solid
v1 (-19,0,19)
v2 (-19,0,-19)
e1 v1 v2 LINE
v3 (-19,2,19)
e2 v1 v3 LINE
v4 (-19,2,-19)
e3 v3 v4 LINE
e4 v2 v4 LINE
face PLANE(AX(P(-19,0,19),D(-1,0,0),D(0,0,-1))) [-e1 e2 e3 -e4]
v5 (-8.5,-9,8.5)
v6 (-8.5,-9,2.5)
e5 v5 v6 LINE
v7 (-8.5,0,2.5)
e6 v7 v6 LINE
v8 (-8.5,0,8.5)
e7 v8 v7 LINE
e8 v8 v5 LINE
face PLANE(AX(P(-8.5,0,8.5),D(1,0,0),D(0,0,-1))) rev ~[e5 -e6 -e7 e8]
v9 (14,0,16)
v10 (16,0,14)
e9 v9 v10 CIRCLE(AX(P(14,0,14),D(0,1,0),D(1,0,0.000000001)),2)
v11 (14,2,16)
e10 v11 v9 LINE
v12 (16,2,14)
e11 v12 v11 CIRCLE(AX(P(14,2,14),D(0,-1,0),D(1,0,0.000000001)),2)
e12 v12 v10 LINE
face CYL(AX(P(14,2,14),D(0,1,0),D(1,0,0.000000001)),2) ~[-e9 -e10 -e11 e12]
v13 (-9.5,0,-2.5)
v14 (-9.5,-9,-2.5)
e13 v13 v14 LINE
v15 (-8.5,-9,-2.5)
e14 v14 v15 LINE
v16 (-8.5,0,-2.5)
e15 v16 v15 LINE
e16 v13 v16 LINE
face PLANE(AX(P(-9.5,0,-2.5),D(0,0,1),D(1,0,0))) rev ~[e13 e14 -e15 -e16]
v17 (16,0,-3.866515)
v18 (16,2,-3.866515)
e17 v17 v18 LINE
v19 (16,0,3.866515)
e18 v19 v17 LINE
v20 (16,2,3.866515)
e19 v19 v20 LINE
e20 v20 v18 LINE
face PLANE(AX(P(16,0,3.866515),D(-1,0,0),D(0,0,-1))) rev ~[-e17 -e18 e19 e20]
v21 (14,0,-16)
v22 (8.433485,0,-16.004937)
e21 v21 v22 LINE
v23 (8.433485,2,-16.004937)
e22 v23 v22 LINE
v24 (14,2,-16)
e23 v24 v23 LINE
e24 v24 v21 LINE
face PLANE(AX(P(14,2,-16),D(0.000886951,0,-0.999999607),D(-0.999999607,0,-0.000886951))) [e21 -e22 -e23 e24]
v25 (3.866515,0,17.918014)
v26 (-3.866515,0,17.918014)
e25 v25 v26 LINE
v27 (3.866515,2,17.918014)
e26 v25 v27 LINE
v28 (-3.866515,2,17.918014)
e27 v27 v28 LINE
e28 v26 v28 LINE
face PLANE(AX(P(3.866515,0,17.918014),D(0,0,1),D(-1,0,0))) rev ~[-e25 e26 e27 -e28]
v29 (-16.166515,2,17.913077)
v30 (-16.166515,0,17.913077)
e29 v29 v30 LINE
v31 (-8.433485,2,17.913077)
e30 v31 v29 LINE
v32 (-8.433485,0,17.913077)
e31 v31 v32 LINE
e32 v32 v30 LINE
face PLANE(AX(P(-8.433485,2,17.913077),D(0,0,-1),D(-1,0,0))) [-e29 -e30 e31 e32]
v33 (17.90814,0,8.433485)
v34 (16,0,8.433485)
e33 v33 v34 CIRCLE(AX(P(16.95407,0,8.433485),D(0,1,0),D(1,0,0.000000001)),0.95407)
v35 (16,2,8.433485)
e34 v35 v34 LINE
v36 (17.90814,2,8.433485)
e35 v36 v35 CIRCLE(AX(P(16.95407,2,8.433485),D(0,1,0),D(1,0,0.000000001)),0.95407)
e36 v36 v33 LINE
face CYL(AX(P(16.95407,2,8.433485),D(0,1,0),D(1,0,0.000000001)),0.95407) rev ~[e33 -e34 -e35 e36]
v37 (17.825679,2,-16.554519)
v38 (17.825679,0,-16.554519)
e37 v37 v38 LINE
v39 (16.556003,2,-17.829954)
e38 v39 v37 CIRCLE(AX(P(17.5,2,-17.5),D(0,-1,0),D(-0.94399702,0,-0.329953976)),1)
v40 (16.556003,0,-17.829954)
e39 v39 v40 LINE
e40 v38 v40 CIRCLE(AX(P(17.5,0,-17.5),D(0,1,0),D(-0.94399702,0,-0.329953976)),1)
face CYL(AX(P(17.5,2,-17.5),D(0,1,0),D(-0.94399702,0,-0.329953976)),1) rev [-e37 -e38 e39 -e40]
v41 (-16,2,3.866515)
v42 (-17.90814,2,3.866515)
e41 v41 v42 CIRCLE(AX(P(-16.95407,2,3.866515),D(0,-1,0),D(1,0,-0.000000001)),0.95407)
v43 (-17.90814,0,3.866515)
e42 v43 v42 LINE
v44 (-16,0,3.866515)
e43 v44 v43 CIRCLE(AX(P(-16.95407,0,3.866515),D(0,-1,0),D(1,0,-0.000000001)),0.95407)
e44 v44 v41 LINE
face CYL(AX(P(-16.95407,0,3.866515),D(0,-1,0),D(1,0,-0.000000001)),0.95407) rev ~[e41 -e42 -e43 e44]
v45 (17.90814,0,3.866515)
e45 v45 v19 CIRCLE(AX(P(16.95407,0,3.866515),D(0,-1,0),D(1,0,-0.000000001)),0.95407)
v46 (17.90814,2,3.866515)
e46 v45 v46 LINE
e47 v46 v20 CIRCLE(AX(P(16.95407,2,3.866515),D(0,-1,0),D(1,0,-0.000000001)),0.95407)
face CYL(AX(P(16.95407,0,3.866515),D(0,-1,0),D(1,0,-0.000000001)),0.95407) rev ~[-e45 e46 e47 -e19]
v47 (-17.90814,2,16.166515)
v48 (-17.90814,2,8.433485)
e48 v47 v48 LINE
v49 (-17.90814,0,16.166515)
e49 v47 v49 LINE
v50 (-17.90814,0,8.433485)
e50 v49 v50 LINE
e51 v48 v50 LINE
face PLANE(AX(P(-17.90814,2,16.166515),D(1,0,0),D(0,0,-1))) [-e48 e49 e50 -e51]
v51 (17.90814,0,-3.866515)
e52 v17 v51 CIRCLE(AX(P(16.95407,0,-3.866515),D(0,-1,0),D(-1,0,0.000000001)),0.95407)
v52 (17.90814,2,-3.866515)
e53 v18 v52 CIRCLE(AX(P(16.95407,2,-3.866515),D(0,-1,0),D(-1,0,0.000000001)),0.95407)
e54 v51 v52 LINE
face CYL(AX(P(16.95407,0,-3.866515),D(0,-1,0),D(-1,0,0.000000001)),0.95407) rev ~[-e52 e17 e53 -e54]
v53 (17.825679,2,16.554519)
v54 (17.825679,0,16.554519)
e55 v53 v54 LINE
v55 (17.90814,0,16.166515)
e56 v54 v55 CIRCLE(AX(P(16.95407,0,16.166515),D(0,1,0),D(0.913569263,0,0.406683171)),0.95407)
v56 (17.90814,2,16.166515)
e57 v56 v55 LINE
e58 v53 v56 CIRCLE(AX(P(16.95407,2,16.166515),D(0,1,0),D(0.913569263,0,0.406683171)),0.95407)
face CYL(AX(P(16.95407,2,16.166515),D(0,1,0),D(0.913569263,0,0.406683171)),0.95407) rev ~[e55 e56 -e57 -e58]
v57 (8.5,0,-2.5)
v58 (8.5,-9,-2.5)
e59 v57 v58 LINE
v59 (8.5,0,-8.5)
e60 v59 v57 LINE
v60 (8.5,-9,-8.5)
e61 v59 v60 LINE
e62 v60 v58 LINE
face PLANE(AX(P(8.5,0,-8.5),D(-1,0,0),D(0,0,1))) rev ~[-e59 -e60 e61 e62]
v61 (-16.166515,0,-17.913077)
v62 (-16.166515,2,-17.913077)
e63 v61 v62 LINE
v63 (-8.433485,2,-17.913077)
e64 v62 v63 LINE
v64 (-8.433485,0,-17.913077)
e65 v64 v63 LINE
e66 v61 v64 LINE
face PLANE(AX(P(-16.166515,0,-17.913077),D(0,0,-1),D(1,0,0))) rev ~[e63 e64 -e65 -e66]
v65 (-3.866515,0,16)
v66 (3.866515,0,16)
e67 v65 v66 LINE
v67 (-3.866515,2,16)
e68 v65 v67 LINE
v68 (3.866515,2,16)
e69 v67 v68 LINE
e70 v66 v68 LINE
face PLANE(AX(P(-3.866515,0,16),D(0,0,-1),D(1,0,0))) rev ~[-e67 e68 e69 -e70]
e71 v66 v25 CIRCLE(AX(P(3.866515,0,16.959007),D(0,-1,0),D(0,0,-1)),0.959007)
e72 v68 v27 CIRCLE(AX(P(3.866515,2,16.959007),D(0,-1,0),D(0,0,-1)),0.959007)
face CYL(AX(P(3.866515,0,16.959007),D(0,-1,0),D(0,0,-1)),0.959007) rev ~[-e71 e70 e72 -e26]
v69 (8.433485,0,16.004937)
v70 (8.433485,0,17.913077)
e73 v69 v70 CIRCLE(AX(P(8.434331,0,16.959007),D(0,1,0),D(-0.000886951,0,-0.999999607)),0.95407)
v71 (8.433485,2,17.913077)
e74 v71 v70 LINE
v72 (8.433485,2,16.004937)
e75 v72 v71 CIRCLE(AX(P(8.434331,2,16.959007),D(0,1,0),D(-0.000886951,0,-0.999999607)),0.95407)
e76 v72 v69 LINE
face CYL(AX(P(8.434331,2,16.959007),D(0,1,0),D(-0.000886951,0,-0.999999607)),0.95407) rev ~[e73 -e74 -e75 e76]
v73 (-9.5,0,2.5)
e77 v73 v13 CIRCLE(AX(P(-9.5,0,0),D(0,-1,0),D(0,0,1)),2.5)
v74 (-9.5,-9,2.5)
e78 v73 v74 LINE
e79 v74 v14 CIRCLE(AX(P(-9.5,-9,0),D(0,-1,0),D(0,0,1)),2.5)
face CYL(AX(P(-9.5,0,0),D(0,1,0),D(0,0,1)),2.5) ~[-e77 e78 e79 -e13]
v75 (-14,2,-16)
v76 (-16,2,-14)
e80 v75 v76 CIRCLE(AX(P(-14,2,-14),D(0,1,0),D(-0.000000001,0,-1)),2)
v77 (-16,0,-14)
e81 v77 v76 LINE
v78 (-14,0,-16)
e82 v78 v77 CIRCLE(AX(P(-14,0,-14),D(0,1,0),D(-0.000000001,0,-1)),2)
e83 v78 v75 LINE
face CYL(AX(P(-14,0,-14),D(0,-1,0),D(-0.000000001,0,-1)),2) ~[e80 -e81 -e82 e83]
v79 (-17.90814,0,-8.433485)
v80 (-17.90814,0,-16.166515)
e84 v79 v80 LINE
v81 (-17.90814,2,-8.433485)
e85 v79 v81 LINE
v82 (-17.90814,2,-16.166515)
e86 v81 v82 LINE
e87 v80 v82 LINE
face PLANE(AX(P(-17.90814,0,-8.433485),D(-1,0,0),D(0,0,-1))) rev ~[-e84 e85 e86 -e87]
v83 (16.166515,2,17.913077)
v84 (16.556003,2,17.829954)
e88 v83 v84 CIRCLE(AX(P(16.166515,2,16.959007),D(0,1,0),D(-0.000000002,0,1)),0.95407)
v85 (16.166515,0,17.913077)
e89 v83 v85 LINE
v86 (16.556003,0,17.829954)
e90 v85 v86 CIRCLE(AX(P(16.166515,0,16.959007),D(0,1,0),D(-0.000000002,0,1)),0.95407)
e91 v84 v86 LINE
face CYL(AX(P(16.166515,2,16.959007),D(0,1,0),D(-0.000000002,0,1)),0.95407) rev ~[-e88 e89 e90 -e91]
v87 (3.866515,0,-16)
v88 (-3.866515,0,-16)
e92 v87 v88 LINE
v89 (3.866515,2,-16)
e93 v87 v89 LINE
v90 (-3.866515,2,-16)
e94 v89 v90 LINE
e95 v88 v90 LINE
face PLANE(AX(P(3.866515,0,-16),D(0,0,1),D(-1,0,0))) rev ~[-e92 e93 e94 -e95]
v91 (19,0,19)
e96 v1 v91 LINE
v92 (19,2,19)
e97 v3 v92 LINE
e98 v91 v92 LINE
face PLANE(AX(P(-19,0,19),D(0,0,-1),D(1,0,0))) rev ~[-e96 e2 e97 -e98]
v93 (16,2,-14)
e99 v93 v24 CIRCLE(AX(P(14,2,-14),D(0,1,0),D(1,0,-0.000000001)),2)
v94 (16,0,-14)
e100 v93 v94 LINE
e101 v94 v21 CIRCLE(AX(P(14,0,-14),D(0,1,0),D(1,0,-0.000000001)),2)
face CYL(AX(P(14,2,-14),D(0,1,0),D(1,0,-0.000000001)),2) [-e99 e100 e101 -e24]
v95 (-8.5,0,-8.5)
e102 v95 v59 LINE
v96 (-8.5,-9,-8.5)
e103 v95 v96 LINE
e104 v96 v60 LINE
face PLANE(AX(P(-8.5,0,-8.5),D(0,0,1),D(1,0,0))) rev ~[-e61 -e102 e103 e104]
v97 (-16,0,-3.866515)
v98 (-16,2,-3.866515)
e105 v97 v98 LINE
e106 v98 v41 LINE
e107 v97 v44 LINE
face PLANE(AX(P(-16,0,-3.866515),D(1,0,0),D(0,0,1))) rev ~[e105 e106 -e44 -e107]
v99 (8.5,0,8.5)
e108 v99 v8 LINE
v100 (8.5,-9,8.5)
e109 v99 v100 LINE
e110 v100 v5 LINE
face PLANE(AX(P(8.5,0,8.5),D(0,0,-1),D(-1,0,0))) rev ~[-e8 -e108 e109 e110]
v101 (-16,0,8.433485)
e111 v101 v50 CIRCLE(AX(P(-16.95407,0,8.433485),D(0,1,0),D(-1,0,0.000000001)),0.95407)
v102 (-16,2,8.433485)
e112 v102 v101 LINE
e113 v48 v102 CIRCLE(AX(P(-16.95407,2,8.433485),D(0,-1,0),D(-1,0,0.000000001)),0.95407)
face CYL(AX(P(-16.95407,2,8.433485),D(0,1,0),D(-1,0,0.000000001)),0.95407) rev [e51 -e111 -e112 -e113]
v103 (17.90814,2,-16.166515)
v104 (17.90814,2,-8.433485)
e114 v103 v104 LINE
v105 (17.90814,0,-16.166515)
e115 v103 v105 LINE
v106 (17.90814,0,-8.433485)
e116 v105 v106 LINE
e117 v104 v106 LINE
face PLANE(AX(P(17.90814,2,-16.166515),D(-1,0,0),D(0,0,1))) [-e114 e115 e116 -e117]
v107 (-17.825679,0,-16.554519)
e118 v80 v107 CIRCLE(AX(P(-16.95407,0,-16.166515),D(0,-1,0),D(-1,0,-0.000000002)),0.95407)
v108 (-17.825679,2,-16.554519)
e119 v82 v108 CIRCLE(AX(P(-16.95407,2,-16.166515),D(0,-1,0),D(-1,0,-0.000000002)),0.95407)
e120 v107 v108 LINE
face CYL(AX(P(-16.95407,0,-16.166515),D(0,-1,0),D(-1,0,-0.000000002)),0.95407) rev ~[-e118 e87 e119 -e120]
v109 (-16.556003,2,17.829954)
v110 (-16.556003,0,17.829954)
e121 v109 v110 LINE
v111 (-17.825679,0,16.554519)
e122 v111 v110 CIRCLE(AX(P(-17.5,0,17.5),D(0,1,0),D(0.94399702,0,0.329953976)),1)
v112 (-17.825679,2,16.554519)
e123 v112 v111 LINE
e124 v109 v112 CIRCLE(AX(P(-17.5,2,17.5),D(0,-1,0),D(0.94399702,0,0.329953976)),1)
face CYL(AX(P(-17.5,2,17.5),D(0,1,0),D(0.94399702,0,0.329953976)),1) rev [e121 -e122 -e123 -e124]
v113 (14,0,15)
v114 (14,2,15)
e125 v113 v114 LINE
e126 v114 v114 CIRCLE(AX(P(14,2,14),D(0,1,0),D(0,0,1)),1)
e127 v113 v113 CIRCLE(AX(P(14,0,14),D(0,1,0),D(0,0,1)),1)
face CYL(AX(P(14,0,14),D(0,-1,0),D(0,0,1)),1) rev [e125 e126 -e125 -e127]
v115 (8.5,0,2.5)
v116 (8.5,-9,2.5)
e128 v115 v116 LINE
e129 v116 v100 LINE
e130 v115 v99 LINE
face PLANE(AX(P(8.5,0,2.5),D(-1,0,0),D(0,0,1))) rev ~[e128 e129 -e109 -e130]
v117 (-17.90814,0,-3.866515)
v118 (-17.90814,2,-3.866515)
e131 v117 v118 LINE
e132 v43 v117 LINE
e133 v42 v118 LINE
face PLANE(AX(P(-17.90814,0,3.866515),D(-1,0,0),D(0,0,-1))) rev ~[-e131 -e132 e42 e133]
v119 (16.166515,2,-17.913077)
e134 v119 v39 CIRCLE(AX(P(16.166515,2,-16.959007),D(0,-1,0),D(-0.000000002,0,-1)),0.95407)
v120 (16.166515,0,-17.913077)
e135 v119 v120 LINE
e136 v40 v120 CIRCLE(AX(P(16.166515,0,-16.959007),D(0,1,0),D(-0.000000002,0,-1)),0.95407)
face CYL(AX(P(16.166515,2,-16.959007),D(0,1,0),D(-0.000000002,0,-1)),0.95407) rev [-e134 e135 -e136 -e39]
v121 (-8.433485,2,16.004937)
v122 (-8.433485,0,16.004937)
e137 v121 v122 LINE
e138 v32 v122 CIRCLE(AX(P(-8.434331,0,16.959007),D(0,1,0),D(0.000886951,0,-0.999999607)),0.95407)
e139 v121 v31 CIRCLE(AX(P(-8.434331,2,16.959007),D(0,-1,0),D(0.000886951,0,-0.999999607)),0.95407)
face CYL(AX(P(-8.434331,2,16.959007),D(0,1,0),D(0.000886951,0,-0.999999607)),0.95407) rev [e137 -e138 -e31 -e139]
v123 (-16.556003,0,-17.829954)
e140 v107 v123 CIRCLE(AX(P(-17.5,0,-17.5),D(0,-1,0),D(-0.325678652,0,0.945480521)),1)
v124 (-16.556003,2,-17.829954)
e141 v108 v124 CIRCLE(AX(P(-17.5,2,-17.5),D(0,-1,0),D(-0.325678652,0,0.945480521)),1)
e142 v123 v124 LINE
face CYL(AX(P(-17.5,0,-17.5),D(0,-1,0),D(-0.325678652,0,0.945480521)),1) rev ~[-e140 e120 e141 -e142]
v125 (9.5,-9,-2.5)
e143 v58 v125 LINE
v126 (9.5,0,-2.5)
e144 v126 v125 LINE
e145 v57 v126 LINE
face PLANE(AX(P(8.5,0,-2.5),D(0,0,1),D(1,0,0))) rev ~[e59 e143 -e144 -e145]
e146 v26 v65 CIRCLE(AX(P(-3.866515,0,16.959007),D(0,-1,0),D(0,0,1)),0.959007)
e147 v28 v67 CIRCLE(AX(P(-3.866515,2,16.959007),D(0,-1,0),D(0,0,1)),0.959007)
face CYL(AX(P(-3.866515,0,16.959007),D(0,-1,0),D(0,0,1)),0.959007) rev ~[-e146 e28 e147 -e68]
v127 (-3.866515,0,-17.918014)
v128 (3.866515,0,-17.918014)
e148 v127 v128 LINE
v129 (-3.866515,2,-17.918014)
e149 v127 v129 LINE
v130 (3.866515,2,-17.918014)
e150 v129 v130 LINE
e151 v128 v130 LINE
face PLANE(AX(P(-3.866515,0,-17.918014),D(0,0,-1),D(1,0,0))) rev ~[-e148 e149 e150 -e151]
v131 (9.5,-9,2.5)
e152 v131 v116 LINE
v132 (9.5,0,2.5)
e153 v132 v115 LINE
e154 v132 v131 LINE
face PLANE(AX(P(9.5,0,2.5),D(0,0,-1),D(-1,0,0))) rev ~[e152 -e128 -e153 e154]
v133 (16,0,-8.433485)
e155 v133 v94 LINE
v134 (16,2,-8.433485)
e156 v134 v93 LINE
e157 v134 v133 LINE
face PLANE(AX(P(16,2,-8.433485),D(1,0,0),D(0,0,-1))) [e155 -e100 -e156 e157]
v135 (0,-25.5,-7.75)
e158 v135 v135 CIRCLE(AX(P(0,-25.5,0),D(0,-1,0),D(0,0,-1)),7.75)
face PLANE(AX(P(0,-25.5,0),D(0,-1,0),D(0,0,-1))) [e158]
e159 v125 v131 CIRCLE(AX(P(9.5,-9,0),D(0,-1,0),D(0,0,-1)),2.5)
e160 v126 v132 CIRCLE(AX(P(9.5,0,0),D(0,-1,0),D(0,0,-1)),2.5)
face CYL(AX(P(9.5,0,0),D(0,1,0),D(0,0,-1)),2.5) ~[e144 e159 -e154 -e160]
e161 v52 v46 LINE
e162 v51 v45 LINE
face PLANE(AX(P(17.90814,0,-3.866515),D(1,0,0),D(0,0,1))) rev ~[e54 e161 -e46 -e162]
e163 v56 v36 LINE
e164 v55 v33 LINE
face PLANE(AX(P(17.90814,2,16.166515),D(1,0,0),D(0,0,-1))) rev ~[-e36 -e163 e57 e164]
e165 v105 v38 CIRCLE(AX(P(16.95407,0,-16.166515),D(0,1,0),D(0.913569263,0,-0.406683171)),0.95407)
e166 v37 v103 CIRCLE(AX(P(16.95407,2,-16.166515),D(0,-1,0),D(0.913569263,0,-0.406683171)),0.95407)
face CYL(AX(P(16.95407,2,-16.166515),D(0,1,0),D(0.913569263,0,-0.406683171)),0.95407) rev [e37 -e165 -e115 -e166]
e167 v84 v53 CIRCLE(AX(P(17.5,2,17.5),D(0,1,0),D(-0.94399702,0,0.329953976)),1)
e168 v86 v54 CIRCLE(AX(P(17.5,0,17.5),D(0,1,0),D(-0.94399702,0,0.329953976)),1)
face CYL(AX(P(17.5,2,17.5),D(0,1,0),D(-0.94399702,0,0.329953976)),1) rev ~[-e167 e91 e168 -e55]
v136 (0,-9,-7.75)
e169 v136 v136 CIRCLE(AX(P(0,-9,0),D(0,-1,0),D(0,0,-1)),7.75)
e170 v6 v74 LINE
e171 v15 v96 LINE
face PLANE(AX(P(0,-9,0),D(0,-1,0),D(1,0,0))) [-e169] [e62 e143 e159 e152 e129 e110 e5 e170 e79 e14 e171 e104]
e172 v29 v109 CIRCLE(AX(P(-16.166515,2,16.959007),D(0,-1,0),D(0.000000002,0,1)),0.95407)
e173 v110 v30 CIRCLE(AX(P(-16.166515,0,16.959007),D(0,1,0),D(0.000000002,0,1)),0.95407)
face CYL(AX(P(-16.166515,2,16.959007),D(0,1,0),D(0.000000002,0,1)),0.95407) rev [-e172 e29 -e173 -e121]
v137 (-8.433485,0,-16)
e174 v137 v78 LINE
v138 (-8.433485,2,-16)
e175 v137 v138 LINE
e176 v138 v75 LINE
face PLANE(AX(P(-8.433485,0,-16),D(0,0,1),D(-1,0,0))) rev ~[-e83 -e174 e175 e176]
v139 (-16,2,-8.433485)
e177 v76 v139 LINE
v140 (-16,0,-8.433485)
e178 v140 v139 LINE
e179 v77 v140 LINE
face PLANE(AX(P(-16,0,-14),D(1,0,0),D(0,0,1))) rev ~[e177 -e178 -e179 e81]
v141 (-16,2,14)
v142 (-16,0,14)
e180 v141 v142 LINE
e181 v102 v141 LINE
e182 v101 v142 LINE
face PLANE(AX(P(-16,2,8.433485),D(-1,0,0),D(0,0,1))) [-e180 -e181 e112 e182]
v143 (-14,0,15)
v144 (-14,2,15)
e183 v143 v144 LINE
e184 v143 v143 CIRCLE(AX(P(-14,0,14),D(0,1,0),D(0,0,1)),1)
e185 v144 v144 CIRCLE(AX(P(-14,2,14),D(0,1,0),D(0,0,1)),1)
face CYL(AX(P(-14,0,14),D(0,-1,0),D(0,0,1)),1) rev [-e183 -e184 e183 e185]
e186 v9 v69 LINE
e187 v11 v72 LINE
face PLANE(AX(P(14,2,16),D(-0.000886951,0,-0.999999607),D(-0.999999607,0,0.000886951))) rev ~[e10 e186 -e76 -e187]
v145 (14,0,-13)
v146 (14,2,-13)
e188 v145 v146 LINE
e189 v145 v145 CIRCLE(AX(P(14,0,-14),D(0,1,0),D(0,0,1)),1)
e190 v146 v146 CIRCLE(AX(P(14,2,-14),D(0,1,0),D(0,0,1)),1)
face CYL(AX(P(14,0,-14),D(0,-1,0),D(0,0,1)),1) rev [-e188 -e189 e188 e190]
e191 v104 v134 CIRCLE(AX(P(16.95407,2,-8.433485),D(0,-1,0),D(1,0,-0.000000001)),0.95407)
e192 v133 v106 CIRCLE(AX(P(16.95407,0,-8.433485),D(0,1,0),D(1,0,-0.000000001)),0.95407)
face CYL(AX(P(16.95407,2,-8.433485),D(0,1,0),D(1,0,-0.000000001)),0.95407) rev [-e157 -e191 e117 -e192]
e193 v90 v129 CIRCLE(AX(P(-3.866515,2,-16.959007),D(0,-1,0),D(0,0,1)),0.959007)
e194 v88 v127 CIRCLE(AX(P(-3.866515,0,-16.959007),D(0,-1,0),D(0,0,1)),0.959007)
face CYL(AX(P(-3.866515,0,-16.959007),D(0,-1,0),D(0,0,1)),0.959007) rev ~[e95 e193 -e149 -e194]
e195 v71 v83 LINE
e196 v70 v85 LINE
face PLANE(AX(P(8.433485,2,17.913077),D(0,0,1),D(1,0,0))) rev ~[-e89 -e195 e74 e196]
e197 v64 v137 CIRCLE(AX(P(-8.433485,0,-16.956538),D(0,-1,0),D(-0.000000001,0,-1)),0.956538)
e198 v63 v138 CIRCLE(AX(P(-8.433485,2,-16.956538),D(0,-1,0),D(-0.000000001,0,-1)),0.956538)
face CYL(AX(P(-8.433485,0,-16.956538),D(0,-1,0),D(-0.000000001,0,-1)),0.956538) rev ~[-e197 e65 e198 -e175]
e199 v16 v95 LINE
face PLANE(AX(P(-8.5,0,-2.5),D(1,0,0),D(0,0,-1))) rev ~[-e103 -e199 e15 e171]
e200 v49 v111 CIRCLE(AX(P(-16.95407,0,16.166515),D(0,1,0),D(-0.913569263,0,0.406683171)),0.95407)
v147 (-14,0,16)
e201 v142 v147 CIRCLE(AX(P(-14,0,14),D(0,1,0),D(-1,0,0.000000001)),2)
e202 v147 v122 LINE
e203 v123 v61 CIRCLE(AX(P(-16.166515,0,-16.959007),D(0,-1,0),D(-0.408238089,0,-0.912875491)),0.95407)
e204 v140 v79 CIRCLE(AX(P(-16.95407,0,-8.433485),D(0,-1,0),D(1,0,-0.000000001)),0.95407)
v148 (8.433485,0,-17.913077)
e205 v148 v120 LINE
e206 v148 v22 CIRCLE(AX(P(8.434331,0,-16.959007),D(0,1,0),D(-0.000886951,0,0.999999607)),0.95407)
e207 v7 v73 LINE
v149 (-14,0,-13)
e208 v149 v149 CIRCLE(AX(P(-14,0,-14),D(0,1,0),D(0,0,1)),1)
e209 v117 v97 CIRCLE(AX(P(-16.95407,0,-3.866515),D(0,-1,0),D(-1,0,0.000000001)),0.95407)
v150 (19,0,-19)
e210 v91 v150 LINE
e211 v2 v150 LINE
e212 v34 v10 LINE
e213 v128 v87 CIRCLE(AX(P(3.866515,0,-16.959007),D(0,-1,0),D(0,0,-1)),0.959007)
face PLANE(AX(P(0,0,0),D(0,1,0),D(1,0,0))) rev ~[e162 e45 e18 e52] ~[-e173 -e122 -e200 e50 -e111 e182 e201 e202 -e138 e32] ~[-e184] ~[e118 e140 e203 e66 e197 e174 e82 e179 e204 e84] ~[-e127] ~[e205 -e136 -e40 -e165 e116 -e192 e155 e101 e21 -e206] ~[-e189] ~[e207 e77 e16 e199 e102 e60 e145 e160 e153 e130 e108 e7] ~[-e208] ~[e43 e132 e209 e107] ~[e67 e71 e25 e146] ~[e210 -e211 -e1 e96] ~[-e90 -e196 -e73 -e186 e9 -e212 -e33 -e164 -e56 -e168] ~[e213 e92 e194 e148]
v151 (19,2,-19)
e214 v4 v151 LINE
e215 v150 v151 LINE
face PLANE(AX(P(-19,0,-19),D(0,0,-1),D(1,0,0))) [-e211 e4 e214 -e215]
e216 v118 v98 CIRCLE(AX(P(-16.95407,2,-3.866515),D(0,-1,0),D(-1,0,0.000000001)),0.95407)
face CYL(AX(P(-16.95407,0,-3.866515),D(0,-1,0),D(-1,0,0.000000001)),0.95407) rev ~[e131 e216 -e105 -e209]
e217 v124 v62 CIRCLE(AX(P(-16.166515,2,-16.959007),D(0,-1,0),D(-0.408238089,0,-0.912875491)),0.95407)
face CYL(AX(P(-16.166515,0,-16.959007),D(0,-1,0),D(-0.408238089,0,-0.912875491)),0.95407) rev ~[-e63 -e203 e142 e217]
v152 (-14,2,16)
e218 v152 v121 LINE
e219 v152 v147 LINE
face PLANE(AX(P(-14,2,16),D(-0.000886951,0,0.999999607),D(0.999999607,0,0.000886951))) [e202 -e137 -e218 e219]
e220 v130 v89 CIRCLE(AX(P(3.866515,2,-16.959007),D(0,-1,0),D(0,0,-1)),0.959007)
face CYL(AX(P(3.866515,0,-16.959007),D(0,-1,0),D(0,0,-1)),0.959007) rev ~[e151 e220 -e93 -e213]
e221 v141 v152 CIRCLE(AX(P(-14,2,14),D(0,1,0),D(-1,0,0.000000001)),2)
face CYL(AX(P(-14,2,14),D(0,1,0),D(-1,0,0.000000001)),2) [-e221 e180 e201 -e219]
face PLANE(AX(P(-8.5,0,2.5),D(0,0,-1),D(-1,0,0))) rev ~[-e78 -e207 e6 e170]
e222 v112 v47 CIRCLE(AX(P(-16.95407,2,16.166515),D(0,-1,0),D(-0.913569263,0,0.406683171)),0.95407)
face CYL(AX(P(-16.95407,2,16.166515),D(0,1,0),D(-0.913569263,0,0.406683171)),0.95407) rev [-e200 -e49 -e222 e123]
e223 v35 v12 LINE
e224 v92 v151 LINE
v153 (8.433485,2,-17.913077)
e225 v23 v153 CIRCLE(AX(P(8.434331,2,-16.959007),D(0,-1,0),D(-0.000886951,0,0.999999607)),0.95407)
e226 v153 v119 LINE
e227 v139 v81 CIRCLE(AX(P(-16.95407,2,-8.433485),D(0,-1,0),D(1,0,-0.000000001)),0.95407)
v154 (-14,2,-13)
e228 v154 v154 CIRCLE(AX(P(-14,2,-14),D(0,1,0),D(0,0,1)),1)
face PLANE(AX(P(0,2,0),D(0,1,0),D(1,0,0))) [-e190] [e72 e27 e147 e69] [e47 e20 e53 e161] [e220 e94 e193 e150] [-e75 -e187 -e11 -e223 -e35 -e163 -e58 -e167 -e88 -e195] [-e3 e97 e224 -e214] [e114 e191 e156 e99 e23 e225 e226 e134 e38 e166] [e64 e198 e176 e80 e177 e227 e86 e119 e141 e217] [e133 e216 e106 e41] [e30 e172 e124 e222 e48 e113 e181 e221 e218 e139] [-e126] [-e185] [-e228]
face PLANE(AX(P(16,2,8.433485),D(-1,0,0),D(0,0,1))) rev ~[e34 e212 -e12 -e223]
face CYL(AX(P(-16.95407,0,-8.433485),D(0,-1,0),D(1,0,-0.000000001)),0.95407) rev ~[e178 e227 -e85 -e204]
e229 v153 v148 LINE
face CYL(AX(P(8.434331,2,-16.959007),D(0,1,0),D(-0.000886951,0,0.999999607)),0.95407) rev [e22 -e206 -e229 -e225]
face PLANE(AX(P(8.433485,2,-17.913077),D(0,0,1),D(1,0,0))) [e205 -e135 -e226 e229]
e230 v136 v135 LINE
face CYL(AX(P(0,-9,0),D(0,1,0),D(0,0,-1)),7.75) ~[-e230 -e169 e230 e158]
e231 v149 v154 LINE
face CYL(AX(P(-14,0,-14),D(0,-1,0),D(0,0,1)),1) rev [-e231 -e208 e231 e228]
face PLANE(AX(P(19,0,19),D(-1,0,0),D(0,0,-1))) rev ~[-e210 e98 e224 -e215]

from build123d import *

# Parameters (mm, degrees)
SKETCH_1_W          = 38
SKETCH_1_H          = 38
SKETCH_1_R          = 1
EXTRUDE_1_DEPTH     = 2
CUT_EXTRUDE_1_DEPTH = 27.944387171
EXTRUDE_2_DEPTH     = 9
SKETCH_4_R          = 7.75
EXTRUDE_3_DEPTH     = 16.5


with BuildPart() as part:
    # 草图1 → 凸台-拉伸1 (new body)
    with BuildSketch(Plane(origin=(0, 0, 0), x_dir=(1, 0, 0), z_dir=(0, 1, 0))):
        Rectangle(SKETCH_1_W, SKETCH_1_H)
        with BuildLine():
            ThreePointArc((-8.433484656, 17.913076839), (-7.476946236, 16.95653842), (-8.433484656, 16))
            Line((-8.433484656, 16), (-14, 16))
            ThreePointArc((-14, 16), (-15.414213562, 15.414213562), (-16, 14))
            Line((-16, 14), (-16, 8.433484656))
            ThreePointArc((-16, 8.433484656), (-16.954069804, 7.479414851), (-17.908139609, 8.433484656))
            Line((-17.908139609, 8.433484656), (-17.908139609, 16.166515344))
            ThreePointArc((-17.908139609, 16.166515344), (-17.887296699, 16.3648503), (-17.825678652, 16.554519479))
            ThreePointArc((-17.825678652, 16.554519479), (-18.208704938, 18.205505004), (-16.55600298, 17.829953976))
            ThreePointArc((-16.55600298, 17.829953976), (-16.365644717, 17.892064742), (-16.166515344, 17.913076839))
            Line((-16.166515344, 17.913076839), (-8.433484656, 17.913076839))
        make_face(mode=Mode.SUBTRACT)
        with BuildLine():
            ThreePointArc((-17.908139609, 3.866515344), (-16.954069804, 4.820585149), (-16, 3.866515344))
            Line((-16, 3.866515344), (-16, -3.866515344))
            ThreePointArc((-16, -3.866515344), (-16.954069804, -4.820585149), (-17.908139609, -3.866515344))
            Line((-17.908139609, -3.866515344), (-17.908139609, 3.866515344))
        make_face(mode=Mode.SUBTRACT)
        with BuildLine():
            ThreePointArc((-3.866515344, -17.91801407), (-4.825522379, -16.959007035), (-3.866515344, -16))
            Line((-3.866515344, -16), (3.866515344, -16))
            ThreePointArc((3.866515344, -16), (4.825522379, -16.959007035), (3.866515344, -17.91801407))
            Line((3.866515344, -17.91801407), (-3.866515344, -17.91801407))
        make_face(mode=Mode.SUBTRACT)
        with BuildLine():
            ThreePointArc((17.908139609, -3.866515344), (16.954069804, -4.820585149), (16, -3.866515344))
            Line((16, -3.866515344), (16, 3.866515344))
            ThreePointArc((16, 3.866515344), (16.954069804, 4.820585149), (17.908139609, 3.866515344))
            Line((17.908139609, 3.866515344), (17.908139609, -3.866515344))
        make_face(mode=Mode.SUBTRACT)
        with BuildLine():
            ThreePointArc((3.866515344, 17.91801407), (4.825522379, 16.959007035), (3.866515344, 16))
            Line((3.866515344, 16), (-3.866515344, 16))
            ThreePointArc((-3.866515344, 16), (-4.825522379, 16.959007035), (-3.866515344, 17.91801407))
            Line((-3.866515344, 17.91801407), (3.866515344, 17.91801407))
        make_face(mode=Mode.SUBTRACT)
        with Locations(Location((-14, -14, 0), (0, 0, 270))):
            Circle(SKETCH_1_R, mode=Mode.SUBTRACT)
        with Locations(Location((14, -14, 0), (0, 0, 270))):
            Circle(SKETCH_1_R, mode=Mode.SUBTRACT)
        with Locations(Location((-14, 14, 0), (0, 0, 270))):
            Circle(SKETCH_1_R, mode=Mode.SUBTRACT)
        with Locations(Location((14, 14, 0), (0, 0, 270))):
            Circle(SKETCH_1_R, mode=Mode.SUBTRACT)
    extrude(amount=EXTRUDE_1_DEPTH)

    # 草图2 → 切除-拉伸1 (cut, through all)
    with BuildSketch(Plane(origin=(0, 2, 0), x_dir=(1, 0, 0), z_dir=(0, 1, 0))):
        with BuildLine():
            Line((-17.908139609, -16.166515344), (-17.908139609, -8.433484656))
            ThreePointArc((-17.908139609, -8.433484656), (-16.954069804, -7.479414851), (-16, -8.433484656))
            Line((-16, -8.433484656), (-16, -14))
            ThreePointArc((-16, -14), (-15.414213562, -15.414213562), (-14, -16))
            Line((-14, -16), (-8.433484656, -16.00493723))
            ThreePointArc((-8.433484656, -16.00493723), (-7.48026069, -16.959007035), (-8.433484656, -17.913076839))
            Line((-8.433484656, -17.913076839), (-16.166515344, -17.913076839))
            ThreePointArc((-16.166515344, -17.913076839), (-16.365644717, -17.892064742), (-16.55600298, -17.829953976))
            ThreePointArc((-16.55600298, -17.829953976), (-18.208704938, -18.205505004), (-17.825678652, -16.554519479))
            ThreePointArc((-17.825678652, -16.554519479), (-17.887296699, -16.3648503), (-17.908139609, -16.166515344))
        make_face()
        with BuildLine():
            Line((17.908139609, -16.166515344), (17.908139609, -8.433484656))
            ThreePointArc((17.908139609, -8.433484656), (16.954069804, -7.479414851), (16, -8.433484656))
            Line((16, -8.433484656), (16, -14))
            ThreePointArc((16, -14), (15.414213562, -15.414213562), (14, -16))
            Line((14, -16), (8.433484656, -16.00493723))
            ThreePointArc((8.433484656, -16.00493723), (7.48026069, -16.959007035), (8.433484656, -17.913076839))
            Line((8.433484656, -17.913076839), (16.166515344, -17.913076839))
            ThreePointArc((16.166515344, -17.913076839), (16.365644717, -17.892064742), (16.55600298, -17.829953976))
            ThreePointArc((16.55600298, -17.829953976), (18.208704938, -18.205505004), (17.825678652, -16.554519479))
            ThreePointArc((17.825678652, -16.554519479), (17.887296699, -16.3648503), (17.908139609, -16.166515344))
        make_face()
        with BuildLine():
            Line((8.433484656, 17.913076839), (16.166515344, 17.913076839))
            ThreePointArc((16.166515344, 17.913076839), (16.365644717, 17.892064742), (16.55600298, 17.829953976))
            ThreePointArc((16.55600298, 17.829953976), (18.208704938, 18.205505004), (17.825678652, 16.554519479))
            ThreePointArc((17.825678652, 16.554519479), (17.887296699, 16.3648503), (17.908139609, 16.166515344))
            Line((17.908139609, 16.166515344), (17.908139609, 8.433484656))
            ThreePointArc((17.908139609, 8.433484656), (16.954069804, 7.479414851), (16, 8.433484656))
            Line((16, 8.433484656), (16, 14))
            ThreePointArc((16, 14), (15.414213562, 15.414213562), (14, 16))
            Line((14, 16), (8.433484656, 16.00493723))
            ThreePointArc((8.433484656, 16.00493723), (7.48026069, 16.959007035), (8.433484656, 17.913076839))
        make_face()
        with BuildLine():
            Line((-8.433484656, 17.913076839), (-16.166515344, 17.913076839))
            ThreePointArc((-16.166515344, 17.913076839), (-16.365644717, 17.892064742), (-16.55600298, 17.829953976))
            ThreePointArc((-16.55600298, 17.829953976), (-18.208704938, 18.205505004), (-17.825678652, 16.554519479))
            ThreePointArc((-17.825678652, 16.554519479), (-17.887296699, 16.3648503), (-17.908139609, 16.166515344))
            Line((-17.908139609, 16.166515344), (-17.908139609, 8.433484656))
            ThreePointArc((-17.908139609, 8.433484656), (-16.954069804, 7.479414851), (-16, 8.433484656))
            Line((-16, 8.433484656), (-16, 14))
            ThreePointArc((-16, 14), (-15.414213562, 15.414213562), (-14, 16))
            Line((-14, 16), (-8.433484656, 16.00493723))
            ThreePointArc((-8.433484656, 16.00493723), (-7.48026069, 16.959007035), (-8.433484656, 17.913076839))
        make_face()
    extrude(amount=-CUT_EXTRUDE_1_DEPTH, mode=Mode.SUBTRACT)

    # 草图3 → 凸台-拉伸2 (add)
    with BuildSketch(Plane.XZ):
        with BuildLine():
            Line((-8.5, 2.5), (-9.5, 2.5))
            ThreePointArc((-9.5, 2.5), (-12, 0), (-9.5, -2.5))
            Line((-9.5, -2.5), (-8.5, -2.5))
            Line((-8.5, -2.5), (-8.5, -8.5))
            Line((-8.5, -8.5), (8.5, -8.5))
            Line((8.5, -8.5), (8.5, -2.5))
            Line((8.5, -2.5), (9.5, -2.5))
            ThreePointArc((9.5, -2.5), (12, 0), (9.5, 2.5))
            Line((9.5, 2.5), (8.5, 2.5))
            Line((8.5, 2.5), (8.5, 8.5))
            Line((8.5, 8.5), (-8.5, 8.5))
            Line((-8.5, 8.5), (-8.5, 2.5))
        make_face()
    extrude(amount=EXTRUDE_2_DEPTH)

    # 草图4 → 凸台-拉伸3 (add)
    with BuildSketch(Plane.XZ.offset(9)):
        with Locations(Location((0, 0, 0), (0, 0, 270))):
            Circle(SKETCH_4_R)
    extrude(amount=EXTRUDE_3_DEPTH)


solid = part.part
